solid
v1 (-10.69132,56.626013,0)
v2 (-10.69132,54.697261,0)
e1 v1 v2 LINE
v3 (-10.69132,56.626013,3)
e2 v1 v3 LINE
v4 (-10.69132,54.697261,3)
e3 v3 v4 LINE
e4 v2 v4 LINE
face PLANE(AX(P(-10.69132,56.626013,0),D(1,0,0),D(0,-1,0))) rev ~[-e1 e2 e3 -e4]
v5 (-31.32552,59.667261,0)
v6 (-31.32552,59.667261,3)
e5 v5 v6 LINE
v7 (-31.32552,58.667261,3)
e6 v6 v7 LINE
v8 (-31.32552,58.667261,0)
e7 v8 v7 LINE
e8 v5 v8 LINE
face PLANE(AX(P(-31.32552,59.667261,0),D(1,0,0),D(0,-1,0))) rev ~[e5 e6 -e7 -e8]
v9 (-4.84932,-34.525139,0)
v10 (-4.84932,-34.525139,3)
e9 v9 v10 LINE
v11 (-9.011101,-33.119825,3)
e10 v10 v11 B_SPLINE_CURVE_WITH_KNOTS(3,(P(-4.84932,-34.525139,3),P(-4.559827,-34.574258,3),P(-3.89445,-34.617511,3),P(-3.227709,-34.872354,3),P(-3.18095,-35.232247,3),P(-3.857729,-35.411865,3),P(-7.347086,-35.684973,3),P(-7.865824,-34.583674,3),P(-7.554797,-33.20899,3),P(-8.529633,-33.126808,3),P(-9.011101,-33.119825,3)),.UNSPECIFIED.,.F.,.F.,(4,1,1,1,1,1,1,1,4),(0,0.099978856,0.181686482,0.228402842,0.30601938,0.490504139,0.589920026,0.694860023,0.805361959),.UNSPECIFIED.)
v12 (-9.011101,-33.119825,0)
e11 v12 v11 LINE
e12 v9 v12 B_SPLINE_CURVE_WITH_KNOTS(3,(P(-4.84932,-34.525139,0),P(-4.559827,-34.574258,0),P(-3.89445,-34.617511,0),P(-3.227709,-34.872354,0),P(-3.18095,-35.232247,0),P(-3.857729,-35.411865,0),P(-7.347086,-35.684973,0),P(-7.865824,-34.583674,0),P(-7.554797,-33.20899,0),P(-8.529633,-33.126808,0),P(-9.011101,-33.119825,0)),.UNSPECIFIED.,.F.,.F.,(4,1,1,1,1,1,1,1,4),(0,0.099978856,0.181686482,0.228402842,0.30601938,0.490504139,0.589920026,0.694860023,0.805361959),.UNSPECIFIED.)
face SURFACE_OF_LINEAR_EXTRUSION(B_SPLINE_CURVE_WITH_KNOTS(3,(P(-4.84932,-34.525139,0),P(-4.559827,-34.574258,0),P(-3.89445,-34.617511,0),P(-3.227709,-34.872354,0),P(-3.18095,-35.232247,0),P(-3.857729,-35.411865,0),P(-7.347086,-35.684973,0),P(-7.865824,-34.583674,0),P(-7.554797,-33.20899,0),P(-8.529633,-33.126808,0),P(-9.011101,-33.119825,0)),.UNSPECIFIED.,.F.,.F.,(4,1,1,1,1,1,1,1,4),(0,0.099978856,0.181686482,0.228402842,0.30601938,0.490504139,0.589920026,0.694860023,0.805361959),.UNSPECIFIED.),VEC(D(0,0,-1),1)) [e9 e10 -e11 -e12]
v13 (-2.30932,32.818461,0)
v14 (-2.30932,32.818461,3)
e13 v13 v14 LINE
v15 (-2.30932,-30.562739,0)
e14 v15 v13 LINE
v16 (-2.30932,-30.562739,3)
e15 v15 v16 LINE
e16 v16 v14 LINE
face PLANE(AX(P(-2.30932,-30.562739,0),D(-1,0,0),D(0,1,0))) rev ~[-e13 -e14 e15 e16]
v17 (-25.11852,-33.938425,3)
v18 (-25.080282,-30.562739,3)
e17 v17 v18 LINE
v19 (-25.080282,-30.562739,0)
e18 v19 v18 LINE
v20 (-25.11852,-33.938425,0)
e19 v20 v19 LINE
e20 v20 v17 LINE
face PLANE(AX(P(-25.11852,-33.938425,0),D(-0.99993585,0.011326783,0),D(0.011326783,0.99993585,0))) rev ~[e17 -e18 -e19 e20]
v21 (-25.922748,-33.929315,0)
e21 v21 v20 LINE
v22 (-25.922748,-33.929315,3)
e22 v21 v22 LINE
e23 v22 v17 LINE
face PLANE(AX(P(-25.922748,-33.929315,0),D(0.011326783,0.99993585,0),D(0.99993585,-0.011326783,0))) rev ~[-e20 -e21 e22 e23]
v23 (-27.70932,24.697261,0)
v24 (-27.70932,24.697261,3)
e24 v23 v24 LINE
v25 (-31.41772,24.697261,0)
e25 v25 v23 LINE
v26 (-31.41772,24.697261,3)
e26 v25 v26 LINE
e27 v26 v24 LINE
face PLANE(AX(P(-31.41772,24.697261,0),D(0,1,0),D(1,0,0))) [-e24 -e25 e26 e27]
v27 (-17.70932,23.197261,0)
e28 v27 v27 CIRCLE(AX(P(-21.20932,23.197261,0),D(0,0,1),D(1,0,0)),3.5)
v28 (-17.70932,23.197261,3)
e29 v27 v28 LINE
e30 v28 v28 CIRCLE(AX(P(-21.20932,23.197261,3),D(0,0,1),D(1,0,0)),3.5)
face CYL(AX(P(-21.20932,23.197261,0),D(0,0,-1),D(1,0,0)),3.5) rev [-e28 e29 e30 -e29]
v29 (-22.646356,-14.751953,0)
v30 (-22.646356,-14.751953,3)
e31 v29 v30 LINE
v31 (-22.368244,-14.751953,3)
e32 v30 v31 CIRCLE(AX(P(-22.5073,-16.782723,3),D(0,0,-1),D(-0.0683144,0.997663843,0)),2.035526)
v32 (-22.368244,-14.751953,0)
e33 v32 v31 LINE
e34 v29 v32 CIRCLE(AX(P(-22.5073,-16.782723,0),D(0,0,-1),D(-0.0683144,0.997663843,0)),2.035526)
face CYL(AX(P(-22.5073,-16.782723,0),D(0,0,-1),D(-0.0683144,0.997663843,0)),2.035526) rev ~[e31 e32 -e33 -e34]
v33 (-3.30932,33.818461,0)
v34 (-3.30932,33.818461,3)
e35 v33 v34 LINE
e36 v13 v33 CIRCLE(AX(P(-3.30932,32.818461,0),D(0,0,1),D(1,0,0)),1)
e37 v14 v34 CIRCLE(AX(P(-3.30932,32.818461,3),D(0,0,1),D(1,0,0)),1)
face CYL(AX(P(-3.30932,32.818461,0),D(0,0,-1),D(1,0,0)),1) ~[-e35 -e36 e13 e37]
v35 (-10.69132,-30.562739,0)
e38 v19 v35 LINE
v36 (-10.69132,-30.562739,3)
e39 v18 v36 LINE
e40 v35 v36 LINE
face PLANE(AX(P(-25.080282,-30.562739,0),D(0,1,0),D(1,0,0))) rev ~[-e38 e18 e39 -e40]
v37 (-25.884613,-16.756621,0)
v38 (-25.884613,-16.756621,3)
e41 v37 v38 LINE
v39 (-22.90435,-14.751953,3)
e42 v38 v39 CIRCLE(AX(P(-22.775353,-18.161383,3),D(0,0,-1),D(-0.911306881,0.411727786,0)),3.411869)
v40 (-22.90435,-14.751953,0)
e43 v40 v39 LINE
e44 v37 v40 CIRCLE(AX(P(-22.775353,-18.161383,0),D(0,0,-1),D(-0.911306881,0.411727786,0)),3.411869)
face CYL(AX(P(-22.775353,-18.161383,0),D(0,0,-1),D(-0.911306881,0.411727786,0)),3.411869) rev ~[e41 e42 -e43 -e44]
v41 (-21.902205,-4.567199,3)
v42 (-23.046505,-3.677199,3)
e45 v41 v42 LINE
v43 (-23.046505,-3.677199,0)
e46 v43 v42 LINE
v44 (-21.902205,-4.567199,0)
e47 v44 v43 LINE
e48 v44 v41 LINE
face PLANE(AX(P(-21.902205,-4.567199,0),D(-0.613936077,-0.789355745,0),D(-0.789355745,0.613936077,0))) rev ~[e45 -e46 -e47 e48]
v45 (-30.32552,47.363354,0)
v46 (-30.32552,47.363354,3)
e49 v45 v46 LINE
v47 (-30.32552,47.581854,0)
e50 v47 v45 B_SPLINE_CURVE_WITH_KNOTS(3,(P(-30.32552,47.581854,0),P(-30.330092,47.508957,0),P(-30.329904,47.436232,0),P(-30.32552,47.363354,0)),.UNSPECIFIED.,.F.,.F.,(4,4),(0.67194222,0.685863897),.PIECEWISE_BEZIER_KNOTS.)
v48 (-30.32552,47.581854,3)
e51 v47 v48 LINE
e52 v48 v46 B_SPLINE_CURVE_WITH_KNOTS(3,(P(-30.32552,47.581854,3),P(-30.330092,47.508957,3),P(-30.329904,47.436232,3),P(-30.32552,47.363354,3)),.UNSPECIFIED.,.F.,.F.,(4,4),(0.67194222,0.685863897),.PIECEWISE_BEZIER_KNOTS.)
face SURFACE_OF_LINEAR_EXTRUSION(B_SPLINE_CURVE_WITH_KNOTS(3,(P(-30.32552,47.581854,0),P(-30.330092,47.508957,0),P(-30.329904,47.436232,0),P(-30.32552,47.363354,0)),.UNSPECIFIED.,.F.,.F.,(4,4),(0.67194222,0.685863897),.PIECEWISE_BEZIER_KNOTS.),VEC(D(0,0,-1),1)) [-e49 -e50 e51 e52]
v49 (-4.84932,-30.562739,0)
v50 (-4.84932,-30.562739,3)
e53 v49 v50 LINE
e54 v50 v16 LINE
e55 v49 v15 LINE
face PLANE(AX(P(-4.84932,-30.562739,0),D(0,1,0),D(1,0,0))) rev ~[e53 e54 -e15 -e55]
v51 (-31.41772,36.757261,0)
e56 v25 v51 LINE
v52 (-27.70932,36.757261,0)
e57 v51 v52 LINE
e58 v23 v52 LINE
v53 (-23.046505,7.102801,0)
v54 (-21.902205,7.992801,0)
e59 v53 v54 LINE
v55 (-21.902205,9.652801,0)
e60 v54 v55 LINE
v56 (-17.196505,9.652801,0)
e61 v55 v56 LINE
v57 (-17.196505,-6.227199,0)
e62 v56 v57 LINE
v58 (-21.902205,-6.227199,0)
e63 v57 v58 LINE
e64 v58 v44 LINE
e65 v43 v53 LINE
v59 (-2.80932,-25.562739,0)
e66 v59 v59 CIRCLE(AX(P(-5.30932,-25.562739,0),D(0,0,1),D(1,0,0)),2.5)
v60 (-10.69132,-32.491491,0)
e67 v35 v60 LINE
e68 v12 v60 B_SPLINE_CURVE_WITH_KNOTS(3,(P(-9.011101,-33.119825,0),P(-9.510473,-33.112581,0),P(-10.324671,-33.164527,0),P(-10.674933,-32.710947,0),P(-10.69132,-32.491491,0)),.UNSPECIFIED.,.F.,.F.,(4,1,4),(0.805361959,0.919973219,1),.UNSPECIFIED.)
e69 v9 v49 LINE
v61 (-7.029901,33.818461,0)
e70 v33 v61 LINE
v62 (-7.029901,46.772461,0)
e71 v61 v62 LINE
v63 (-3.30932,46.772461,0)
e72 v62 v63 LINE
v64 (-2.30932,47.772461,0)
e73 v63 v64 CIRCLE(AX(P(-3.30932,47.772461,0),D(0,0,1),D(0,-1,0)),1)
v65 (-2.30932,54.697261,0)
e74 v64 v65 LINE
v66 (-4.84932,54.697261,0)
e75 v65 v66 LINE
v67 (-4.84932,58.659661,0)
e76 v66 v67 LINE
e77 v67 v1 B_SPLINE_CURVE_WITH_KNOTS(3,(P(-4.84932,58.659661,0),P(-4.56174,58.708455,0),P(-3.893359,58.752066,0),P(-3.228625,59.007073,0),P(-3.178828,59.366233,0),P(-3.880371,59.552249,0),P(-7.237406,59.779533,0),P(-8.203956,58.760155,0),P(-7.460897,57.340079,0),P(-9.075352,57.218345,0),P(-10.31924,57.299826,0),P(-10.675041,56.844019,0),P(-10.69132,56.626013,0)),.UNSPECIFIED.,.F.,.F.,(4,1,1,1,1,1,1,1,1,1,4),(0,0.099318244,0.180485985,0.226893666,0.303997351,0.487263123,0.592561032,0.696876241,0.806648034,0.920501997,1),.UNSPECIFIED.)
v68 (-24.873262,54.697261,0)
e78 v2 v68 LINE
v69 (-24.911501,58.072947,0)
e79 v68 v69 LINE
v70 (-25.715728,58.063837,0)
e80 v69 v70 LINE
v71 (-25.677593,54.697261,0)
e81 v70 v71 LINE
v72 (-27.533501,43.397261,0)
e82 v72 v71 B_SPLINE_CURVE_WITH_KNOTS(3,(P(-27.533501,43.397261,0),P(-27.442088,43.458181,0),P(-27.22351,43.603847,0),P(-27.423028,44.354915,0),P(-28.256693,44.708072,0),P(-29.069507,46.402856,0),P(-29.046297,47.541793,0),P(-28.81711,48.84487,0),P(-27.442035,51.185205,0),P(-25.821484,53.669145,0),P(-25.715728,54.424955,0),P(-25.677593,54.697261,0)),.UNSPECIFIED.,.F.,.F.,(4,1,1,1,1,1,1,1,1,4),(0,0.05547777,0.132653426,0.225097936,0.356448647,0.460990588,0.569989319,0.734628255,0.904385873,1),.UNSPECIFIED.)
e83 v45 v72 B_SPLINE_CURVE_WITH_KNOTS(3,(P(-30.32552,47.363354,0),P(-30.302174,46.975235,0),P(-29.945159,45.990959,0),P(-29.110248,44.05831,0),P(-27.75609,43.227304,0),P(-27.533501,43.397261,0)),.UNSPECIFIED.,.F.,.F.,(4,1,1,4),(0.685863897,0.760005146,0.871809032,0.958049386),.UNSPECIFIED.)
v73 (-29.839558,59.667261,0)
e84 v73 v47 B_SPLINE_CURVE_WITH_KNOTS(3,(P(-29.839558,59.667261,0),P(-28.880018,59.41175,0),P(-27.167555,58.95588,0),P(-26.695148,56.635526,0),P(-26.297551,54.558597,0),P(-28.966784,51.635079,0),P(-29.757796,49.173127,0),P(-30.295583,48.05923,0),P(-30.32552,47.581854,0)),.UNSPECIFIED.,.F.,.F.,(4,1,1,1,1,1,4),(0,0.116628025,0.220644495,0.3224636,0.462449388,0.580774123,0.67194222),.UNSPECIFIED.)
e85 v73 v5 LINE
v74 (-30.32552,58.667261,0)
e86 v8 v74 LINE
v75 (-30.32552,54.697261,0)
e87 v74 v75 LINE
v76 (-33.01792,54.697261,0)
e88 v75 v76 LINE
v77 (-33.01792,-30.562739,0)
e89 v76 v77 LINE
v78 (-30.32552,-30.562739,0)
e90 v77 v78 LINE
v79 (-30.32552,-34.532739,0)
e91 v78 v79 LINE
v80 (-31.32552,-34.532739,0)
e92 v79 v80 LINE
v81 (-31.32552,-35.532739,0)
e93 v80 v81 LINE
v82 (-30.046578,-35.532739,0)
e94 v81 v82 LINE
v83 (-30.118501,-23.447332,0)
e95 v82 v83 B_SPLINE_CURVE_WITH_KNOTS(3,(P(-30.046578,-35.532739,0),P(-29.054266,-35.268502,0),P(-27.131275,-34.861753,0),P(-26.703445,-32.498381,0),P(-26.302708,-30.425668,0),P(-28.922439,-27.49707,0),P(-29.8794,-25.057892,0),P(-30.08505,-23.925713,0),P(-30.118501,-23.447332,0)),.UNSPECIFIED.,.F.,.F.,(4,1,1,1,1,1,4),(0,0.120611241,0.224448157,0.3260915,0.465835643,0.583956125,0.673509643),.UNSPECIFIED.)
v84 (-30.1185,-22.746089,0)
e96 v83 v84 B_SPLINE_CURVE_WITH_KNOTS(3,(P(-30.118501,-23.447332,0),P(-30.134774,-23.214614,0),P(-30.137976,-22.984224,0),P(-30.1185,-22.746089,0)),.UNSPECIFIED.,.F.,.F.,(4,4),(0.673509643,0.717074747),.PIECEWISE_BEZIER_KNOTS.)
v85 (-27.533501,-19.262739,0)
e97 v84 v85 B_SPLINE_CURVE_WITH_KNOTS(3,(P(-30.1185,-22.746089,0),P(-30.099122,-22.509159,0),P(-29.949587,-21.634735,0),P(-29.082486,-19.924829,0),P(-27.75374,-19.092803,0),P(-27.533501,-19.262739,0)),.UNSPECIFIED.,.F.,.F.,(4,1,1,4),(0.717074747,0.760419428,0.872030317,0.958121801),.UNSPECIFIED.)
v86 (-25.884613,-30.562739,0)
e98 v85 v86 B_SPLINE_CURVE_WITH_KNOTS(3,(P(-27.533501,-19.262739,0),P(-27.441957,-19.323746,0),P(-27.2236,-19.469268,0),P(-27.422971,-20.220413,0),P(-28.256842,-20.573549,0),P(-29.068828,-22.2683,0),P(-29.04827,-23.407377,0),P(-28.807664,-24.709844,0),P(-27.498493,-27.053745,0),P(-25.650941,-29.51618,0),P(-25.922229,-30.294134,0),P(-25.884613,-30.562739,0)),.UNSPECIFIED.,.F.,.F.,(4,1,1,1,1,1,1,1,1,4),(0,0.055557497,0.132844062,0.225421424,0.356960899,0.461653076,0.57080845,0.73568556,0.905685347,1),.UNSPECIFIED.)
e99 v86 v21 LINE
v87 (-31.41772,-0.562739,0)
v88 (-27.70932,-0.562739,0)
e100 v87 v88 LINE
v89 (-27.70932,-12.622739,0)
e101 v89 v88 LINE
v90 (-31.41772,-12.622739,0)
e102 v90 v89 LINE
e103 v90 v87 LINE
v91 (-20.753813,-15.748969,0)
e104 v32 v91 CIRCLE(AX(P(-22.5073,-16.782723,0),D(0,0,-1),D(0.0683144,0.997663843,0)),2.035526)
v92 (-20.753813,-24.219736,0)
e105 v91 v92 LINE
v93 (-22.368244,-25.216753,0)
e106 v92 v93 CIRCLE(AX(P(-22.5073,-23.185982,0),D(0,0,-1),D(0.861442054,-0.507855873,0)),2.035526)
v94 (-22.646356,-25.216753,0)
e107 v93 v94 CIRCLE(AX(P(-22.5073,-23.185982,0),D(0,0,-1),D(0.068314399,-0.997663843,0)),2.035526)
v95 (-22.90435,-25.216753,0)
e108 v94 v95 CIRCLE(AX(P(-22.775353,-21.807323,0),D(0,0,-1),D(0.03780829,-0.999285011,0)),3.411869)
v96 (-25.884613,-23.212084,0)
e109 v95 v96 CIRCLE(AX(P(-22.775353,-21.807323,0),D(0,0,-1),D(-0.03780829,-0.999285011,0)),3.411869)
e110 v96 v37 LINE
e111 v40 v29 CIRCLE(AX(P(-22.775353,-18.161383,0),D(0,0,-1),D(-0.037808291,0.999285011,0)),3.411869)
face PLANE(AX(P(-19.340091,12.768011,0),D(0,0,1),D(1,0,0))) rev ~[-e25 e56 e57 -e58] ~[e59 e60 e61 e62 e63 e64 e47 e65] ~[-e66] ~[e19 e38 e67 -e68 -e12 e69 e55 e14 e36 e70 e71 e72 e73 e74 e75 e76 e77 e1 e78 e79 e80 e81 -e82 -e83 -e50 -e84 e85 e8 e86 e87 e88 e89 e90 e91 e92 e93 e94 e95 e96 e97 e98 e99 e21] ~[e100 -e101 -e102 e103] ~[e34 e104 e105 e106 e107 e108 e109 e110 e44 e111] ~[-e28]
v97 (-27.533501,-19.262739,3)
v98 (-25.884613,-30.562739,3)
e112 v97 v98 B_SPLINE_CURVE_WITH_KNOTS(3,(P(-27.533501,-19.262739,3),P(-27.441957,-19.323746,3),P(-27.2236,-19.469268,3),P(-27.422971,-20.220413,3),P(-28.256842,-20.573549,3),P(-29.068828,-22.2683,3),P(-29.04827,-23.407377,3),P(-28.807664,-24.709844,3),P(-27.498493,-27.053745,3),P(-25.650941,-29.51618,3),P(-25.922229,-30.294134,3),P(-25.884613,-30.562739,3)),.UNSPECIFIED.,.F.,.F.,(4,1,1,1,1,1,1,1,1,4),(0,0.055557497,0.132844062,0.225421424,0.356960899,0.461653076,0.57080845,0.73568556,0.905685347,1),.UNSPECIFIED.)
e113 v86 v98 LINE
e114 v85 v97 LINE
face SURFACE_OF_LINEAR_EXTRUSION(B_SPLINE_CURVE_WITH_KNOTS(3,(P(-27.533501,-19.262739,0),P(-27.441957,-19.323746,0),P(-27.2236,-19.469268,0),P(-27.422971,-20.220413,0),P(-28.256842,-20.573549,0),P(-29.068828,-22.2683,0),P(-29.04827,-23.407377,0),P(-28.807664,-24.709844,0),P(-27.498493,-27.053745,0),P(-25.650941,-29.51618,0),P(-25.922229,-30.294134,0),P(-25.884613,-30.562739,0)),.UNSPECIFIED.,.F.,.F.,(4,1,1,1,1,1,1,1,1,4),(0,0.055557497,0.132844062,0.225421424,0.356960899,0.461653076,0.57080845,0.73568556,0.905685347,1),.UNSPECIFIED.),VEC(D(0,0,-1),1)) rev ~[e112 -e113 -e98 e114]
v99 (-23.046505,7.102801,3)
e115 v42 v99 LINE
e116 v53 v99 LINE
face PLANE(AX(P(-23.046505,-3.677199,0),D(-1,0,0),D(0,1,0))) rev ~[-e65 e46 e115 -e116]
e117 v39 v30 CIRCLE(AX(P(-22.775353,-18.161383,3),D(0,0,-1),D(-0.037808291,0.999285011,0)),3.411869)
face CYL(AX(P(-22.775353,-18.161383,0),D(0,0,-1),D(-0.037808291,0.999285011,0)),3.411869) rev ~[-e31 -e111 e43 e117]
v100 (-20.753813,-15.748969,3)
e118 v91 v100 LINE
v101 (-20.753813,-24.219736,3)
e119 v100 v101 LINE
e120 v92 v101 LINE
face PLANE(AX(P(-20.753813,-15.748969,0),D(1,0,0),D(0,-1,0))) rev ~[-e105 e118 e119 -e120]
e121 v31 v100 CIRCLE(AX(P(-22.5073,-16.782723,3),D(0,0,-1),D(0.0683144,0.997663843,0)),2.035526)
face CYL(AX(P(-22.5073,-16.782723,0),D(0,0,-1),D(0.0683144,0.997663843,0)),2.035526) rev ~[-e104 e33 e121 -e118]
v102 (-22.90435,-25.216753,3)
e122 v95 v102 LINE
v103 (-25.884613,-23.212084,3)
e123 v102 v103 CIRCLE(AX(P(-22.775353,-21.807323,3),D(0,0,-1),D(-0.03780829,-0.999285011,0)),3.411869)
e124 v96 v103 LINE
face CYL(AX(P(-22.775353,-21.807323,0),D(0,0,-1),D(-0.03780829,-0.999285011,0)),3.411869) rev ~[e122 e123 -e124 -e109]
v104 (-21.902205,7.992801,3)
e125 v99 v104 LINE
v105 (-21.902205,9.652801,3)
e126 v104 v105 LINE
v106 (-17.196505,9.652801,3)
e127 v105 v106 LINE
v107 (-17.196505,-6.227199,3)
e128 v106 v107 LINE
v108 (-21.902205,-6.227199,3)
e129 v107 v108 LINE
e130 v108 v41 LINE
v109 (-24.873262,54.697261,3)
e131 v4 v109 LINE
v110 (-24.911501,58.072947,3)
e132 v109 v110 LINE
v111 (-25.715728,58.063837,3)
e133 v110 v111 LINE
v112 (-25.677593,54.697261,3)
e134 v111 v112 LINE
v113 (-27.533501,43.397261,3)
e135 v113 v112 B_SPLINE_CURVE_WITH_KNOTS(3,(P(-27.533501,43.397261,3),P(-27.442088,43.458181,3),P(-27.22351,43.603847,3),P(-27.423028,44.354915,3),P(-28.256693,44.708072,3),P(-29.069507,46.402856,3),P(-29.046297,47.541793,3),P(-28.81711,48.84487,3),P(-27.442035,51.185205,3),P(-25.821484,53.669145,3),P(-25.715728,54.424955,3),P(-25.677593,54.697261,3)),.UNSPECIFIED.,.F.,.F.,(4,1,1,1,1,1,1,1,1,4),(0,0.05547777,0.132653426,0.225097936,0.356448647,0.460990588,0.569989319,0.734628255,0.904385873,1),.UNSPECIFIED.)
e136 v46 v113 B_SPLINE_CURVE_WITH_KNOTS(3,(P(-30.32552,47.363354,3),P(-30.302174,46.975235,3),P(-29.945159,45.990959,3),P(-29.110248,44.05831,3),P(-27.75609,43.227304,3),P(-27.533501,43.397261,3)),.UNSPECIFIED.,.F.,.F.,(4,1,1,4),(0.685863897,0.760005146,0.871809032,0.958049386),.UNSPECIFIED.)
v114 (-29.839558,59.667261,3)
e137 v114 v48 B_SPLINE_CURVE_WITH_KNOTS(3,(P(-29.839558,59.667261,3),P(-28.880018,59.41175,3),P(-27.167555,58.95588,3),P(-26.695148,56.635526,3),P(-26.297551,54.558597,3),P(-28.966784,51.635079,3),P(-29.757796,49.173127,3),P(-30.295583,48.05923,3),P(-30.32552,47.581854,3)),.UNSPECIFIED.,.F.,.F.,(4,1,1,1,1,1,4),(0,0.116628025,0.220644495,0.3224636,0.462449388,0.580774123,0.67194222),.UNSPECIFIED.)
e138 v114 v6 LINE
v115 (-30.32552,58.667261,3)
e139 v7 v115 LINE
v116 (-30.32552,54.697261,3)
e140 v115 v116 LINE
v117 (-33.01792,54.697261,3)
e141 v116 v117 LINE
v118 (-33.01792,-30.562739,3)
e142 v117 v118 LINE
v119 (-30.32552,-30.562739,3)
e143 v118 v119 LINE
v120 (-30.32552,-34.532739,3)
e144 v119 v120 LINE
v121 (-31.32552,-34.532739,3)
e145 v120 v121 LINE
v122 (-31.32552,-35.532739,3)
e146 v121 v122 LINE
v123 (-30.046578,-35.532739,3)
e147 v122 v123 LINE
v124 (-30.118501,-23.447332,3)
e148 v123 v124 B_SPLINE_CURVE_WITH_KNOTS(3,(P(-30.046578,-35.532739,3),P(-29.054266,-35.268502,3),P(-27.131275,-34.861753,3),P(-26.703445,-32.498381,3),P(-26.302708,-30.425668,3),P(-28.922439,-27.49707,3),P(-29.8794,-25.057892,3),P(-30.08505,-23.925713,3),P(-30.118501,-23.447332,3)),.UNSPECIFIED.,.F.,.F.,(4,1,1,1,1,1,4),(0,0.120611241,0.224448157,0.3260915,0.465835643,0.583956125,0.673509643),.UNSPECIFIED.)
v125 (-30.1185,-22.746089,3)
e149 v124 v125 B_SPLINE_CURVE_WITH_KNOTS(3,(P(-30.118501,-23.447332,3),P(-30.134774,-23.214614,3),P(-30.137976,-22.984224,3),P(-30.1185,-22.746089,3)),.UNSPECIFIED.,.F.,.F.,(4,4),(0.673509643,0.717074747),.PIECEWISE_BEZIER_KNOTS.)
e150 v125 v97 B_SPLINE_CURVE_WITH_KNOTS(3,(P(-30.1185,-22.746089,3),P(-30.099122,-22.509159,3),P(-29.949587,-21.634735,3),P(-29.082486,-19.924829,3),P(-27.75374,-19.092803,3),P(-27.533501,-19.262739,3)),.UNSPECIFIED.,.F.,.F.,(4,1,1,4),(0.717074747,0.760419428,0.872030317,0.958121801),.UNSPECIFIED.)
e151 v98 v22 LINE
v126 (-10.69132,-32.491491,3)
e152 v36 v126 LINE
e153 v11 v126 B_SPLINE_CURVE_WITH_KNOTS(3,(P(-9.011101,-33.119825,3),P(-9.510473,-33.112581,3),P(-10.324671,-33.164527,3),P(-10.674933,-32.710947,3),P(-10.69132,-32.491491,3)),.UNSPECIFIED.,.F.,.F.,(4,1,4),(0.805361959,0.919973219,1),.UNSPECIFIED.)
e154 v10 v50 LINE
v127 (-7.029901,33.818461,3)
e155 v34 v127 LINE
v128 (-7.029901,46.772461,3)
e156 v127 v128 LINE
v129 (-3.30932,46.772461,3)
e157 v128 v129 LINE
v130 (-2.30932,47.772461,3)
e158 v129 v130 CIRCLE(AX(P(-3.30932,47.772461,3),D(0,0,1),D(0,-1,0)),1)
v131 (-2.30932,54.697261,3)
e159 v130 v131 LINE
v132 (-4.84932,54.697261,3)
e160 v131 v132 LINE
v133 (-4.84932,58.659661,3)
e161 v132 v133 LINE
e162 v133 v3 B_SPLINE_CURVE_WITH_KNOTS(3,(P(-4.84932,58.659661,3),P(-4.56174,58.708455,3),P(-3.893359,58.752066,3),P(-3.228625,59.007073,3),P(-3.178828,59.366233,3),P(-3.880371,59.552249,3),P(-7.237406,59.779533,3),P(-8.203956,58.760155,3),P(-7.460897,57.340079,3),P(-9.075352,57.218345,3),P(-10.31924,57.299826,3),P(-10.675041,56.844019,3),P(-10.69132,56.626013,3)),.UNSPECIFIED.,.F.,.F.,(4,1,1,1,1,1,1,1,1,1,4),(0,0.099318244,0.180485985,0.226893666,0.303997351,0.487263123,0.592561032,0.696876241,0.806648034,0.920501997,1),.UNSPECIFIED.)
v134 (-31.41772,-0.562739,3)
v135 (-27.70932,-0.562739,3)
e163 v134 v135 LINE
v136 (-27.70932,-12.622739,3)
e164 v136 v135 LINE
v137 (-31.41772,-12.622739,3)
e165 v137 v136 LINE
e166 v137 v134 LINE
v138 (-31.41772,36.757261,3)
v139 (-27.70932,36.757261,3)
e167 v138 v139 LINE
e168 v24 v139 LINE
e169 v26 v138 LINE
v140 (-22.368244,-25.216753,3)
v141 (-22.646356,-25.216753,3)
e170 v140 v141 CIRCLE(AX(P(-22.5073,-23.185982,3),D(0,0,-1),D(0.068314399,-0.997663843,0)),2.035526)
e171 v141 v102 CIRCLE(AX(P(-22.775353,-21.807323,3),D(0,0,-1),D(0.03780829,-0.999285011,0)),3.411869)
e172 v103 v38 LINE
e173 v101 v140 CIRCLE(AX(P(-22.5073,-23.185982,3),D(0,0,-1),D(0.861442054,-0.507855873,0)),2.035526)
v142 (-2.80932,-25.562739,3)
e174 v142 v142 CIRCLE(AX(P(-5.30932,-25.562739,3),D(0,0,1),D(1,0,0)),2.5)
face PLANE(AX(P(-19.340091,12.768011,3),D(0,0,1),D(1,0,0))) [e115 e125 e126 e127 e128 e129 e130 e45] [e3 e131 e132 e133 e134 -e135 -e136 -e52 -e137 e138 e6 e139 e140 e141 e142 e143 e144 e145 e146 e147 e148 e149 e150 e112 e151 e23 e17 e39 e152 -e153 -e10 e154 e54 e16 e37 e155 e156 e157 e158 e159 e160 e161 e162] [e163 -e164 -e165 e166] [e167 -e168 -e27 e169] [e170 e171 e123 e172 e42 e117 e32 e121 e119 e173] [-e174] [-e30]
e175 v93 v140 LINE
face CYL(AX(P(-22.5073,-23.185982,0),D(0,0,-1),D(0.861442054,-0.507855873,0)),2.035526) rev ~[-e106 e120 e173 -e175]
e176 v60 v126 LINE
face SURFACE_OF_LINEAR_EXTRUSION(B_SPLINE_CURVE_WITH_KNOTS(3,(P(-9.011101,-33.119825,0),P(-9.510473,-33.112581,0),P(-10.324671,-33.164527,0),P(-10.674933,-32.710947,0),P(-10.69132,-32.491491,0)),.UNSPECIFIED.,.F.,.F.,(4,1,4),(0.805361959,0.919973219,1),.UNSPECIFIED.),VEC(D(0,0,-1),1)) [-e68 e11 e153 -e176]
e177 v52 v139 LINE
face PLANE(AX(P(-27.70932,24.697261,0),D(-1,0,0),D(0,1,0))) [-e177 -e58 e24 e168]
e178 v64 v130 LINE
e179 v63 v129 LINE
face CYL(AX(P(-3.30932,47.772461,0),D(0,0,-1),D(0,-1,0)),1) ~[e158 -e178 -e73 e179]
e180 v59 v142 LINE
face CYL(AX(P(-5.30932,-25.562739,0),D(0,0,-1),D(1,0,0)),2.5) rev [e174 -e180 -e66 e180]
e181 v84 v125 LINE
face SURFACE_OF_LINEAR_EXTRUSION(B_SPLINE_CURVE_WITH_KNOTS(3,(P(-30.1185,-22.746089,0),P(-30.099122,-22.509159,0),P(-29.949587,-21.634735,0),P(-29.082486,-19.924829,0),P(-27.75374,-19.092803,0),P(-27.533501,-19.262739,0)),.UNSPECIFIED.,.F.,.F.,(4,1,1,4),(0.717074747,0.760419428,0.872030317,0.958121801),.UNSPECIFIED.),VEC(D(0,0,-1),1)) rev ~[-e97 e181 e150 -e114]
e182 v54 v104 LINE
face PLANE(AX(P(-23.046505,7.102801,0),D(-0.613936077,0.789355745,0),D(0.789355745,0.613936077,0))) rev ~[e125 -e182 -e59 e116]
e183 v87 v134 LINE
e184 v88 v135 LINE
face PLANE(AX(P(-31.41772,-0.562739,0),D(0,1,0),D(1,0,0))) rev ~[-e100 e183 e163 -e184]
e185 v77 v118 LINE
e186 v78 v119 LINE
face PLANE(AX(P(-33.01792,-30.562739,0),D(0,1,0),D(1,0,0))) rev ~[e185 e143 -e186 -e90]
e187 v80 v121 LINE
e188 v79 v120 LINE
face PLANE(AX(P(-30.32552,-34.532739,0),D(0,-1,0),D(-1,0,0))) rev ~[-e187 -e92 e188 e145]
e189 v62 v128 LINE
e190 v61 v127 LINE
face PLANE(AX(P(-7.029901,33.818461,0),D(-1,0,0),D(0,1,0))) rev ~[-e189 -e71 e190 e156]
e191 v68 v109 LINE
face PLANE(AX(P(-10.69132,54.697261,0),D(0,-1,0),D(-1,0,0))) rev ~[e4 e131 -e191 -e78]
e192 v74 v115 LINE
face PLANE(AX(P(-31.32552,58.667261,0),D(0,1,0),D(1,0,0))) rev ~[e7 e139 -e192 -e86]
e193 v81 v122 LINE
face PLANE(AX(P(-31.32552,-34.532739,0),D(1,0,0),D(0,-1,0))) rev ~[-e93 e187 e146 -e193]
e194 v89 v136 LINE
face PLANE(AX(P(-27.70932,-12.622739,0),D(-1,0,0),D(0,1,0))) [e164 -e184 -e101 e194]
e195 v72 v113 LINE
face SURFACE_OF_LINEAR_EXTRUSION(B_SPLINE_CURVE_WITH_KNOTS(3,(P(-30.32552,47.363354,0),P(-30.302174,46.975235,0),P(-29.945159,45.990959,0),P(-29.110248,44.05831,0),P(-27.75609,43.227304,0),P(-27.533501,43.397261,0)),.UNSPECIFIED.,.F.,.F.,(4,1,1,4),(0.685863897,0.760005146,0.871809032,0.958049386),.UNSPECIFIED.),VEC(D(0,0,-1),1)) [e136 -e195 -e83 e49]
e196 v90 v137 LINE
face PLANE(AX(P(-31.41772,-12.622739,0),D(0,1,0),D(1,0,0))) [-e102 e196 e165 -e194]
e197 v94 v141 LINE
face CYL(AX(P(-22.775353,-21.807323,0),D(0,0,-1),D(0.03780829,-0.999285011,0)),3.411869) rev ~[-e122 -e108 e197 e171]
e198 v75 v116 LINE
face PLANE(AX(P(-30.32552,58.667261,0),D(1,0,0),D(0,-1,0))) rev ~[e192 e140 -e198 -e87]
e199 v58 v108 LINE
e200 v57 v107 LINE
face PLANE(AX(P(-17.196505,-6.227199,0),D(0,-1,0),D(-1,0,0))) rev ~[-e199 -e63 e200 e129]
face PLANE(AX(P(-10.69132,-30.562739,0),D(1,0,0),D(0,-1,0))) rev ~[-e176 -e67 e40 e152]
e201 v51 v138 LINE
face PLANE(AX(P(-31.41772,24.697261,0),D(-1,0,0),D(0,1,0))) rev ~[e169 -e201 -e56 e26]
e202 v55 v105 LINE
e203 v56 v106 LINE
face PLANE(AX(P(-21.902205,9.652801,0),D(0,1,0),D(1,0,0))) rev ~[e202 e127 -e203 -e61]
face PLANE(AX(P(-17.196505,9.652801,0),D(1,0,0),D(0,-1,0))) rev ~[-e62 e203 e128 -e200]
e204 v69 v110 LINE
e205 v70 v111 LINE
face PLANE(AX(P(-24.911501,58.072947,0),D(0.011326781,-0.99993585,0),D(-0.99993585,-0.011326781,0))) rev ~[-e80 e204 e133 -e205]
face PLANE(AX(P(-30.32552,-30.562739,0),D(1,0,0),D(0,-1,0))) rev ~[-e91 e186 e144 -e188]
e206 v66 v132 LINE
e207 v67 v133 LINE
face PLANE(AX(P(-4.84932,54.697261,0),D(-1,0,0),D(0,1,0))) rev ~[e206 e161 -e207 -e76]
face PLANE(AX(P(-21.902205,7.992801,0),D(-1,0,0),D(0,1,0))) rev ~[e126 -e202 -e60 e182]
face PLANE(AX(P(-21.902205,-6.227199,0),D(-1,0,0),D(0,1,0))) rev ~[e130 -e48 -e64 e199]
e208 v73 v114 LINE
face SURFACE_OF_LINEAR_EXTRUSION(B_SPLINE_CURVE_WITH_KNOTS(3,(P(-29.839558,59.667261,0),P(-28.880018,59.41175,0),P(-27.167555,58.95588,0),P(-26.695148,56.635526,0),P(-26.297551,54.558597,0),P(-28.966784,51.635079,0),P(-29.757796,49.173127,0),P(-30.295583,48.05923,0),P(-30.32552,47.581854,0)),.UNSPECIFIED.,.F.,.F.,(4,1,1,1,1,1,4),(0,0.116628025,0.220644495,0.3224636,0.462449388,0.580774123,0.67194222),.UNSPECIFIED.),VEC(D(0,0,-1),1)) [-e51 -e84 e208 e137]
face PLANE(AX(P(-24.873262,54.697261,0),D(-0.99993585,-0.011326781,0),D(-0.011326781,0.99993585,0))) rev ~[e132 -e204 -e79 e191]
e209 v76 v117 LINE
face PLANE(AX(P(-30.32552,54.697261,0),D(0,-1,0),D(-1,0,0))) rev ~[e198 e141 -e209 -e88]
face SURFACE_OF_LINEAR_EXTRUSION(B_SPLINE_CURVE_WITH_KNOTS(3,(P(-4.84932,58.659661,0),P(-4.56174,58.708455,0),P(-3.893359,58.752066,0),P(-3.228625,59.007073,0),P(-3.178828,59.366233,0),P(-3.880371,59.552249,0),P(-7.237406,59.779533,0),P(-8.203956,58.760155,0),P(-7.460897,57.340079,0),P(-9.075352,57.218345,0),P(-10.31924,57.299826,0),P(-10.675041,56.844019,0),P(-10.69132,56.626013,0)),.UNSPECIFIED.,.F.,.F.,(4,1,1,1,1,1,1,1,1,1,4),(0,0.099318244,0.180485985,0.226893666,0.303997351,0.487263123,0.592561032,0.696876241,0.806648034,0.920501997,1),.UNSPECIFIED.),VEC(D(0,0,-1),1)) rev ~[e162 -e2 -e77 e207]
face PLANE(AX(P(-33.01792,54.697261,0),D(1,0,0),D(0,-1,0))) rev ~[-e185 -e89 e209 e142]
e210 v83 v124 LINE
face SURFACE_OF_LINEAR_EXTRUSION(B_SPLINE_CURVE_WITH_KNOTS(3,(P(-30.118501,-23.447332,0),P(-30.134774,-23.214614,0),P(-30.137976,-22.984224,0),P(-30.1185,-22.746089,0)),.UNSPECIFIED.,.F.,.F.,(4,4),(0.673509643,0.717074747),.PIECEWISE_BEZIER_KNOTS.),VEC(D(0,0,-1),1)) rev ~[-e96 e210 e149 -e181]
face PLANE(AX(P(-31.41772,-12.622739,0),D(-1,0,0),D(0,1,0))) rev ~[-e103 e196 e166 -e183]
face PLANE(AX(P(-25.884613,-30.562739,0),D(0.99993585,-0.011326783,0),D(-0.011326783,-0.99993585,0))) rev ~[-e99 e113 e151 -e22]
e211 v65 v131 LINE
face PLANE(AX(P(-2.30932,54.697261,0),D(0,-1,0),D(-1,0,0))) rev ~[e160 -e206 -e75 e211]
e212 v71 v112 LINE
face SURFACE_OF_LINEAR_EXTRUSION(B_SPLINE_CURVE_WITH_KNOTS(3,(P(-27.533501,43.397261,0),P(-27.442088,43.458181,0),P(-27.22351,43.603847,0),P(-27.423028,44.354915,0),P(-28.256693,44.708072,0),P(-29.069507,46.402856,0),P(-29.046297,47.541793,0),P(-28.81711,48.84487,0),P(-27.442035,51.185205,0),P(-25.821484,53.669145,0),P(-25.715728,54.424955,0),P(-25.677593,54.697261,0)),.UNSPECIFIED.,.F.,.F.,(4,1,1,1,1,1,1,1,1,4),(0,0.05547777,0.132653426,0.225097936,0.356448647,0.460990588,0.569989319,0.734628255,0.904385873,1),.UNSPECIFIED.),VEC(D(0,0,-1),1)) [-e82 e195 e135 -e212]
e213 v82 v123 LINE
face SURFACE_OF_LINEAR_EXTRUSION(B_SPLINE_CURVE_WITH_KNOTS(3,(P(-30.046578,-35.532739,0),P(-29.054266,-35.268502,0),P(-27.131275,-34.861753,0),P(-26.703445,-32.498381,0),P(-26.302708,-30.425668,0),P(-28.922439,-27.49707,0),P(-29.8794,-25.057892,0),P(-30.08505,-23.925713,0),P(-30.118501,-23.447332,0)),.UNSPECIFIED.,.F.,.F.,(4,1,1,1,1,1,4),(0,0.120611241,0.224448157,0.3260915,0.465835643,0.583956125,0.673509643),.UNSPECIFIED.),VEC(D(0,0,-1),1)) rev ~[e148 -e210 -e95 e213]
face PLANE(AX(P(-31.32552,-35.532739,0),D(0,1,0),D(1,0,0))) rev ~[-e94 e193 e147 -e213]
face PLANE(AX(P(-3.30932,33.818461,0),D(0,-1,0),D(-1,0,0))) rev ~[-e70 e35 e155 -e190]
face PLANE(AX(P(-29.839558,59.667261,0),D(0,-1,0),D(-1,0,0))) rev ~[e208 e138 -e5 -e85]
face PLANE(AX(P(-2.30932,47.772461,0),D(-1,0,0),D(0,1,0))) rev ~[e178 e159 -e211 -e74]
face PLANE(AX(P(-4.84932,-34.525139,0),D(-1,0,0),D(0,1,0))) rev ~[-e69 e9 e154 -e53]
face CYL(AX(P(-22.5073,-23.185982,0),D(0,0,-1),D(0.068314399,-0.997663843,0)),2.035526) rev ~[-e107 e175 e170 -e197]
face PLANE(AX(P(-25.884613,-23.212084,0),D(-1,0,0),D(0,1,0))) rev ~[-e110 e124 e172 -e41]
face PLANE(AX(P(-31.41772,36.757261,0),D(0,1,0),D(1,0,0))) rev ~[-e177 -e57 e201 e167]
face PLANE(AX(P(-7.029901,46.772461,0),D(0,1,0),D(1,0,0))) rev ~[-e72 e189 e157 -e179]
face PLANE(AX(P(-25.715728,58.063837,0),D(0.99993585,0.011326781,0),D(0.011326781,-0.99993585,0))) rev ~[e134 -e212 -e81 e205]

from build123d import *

# Parameters (mm, degrees)
F0_W     = 3.7084
F0_H     = 12.06
F0_R     = 2.5
F0_R_2   = 3.5
F1_DEPTH = 3


with BuildPart() as f1:
    # F0 (on Top) → F1 (new body)
    with BuildSketch(Plane.XY):
        with BuildLine():
            Line((-30.3255202817, 54.6972608811), (-33.0179202817, 54.6972608811))
            Line((-33.0179202817, 54.6972608811), (-33.0179202817, -30.5627391189))
            Line((-33.0179202817, -30.5627391189), (-30.3255202817, -30.5627391189))
            Line((-30.3255202817, -30.5627391189), (-30.3255202817, -34.5327391189))
            Line((-30.3255202817, -34.5327391189), (-31.3255202817, -34.5327391189))
            Line((-31.3255202817, -34.5327391189), (-31.3255202817, -35.5327391189))
            Line((-31.3255202817, -35.5327391189), (-30.0465778309, -35.5327391189))
            add(Edge.make_bspline(
                [(-30.0465778309, -35.5327391189), (-29.0542660125, -35.2685021322), (-27.1312752249, -34.861753353), (-26.7034450117, -32.4983814243), (-26.3027082761, -30.4256681512), (-28.9224390093, -27.4970702453), (-29.8794002046, -25.057892097), (-30.0850495272, -23.9257134), (-30.1185005971, -23.4473318782)],
                knots=[0, 0, 0, 0, 0.1206112414, 0.224448157, 0.3260915004, 0.4658356432, 0.5839561245, 0.6735096428, 0.6735096428, 0.6735096428, 0.6735096428], degree=3))
            add(Edge.make_bspline(
                [(-30.1185005971, -23.4473318782), (-30.1347735406, -23.2146135975), (-30.1379762837, -22.9842236069), (-30.1184997649, -22.7460887202)],
                knots=[0.6735096428, 0.6735096428, 0.6735096428, 0.6735096428, 0.717074747, 0.717074747, 0.717074747, 0.717074747], degree=3))
            add(Edge.make_bspline(
                [(-30.1184997649, -22.7460887202), (-30.0991217901, -22.5091587059), (-29.949587152, -21.6347347705), (-29.0824860737, -19.9248292282), (-27.7537398554, -19.0928034317), (-27.5335005971, -19.2627391189)],
                knots=[0.717074747, 0.717074747, 0.717074747, 0.717074747, 0.7604194282, 0.8720303172, 0.9581218014, 0.9581218014, 0.9581218014, 0.9581218014], degree=3))
            add(Edge.make_bspline(
                [(-27.5335005971, -19.2627391189), (-27.4419565035, -19.3237464606), (-27.2236001371, -19.4692682262), (-27.4229707249, -20.2204130794), (-28.2568417379, -20.5735485862), (-29.0688276696, -22.2682997811), (-29.048270231, -23.4073773795), (-28.8076640714, -24.7098437986), (-27.4984927375, -27.0537445911), (-25.6509412483, -29.5161804605), (-25.9222293614, -30.2941341727), (-25.8846127289, -30.5627391189)],
                knots=[0, 0, 0, 0, 0.0555574968, 0.1328440618, 0.225421424, 0.3569608994, 0.4616530765, 0.5708084503, 0.7356855595, 0.905685347, 1, 1, 1, 1], degree=3))
            Line((-25.8846127289, -30.5627391189), (-25.9227476544, -33.9293153014))
            Line((-25.9227476544, -33.9293153014), (-25.1185202817, -33.9384251951))
            Line((-25.1185202817, -33.9384251951), (-25.0802821638, -30.5627391189))
            Line((-25.0802821638, -30.5627391189), (-10.6913202817, -30.5627391189))
            Line((-10.6913202817, -30.5627391189), (-10.6913202817, -32.491491082))
            add(Edge.make_bspline(
                [(-9.0111005971, -33.1198246207), (-9.5104731019, -33.1125810807), (-10.3246713293, -33.1645274657), (-10.6749330928, -32.7109473036), (-10.6913202817, -32.491491082)],
                knots=[0.8053619594, 0.8053619594, 0.8053619594, 0.8053619594, 0.9199732187, 1, 1, 1, 1], degree=3))
            add(Edge.make_bspline(
                [(-4.8493202817, -34.5251391189), (-4.5598271377, -34.5742578802), (-3.8944496954, -34.6175113453), (-3.2277093509, -34.8723543508), (-3.1809502223, -35.2322471625), (-3.8577286947, -35.4118651006), (-7.3470859543, -35.6849731368), (-7.8658240881, -34.58367362), (-7.5547970986, -33.2089896094), (-8.5296328153, -33.1268084476), (-9.0111005971, -33.1198246207)],
                knots=[0, 0, 0, 0, 0.0999788563, 0.1816864817, 0.2284028423, 0.3060193801, 0.4905041385, 0.5899200265, 0.6948600229, 0.8053619594, 0.8053619594, 0.8053619594, 0.8053619594], degree=3))
            Line((-4.8493202817, -34.5251391189), (-4.8493202817, -30.5627391189))
            Line((-4.8493202817, -30.5627391189), (-2.3093202817, -30.5627391189))
            Line((-2.3093202817, -30.5627391189), (-2.3093202817, 32.8184608811))
            ThreePointArc((-2.3093202817, 32.8184608811), (-2.6022135006, 33.5255676623), (-3.3093202817, 33.8184608811))
            Line((-3.3093202817, 33.8184608811), (-7.0299005971, 33.8184608811))
            Line((-7.0299005971, 33.8184608811), (-7.0299005971, 46.7724608811))
            Line((-7.0299005971, 46.7724608811), (-3.3093202817, 46.7724608811))
            ThreePointArc((-3.3093202817, 46.7724608811), (-2.6022135006, 47.0653540999), (-2.3093202817, 47.7724608811))
            Line((-2.3093202817, 47.7724608811), (-2.3093202817, 54.6972608811))
            Line((-2.3093202817, 54.6972608811), (-4.8493202817, 54.6972608811))
            Line((-4.8493202817, 54.6972608811), (-4.8493202817, 58.6596608811))
            add(Edge.make_bspline(
                [(-4.8493202817, 58.6596608811), (-4.5617399693, 58.7084550892), (-3.8933589127, 58.7520656237), (-3.2286250578, 59.0070734433), (-3.1788282676, 59.366232748), (-3.8803713676, 59.5522491057), (-7.2374062882, 59.7795334193), (-8.2039564746, 58.7601549354), (-7.4608966899, 57.3400786879), (-9.0753517903, 57.2183445779), (-10.3192401725, 57.2998260761), (-10.6750413714, 56.8440190045), (-10.6913202817, 56.6260128441)],
                knots=[0, 0, 0, 0, 0.0993182441, 0.1804859847, 0.2268936661, 0.3039973511, 0.4872631229, 0.5925610324, 0.6968762413, 0.806648034, 0.9205019972, 1, 1, 1, 1], degree=3))
            Line((-10.6913202817, 56.6260128441), (-10.6913202817, 54.6972608811))
            Line((-10.6913202817, 54.6972608811), (-24.8732624792, 54.6972608811))
            Line((-24.8732624792, 54.6972608811), (-24.9115005888, 58.0729470142))
            Line((-24.9115005888, 58.0729470142), (-25.7157279615, 58.0638371227))
            Line((-25.7157279615, 58.0638371227), (-25.6775930443, 54.6972608811))
            add(Edge.make_bspline(
                [(-27.5335005971, 43.3972608811), (-27.4420878726, 43.458180675), (-27.2235099986, 43.6038466512), (-27.4230277063, 44.3549153311), (-28.2566925656, 44.7080719301), (-29.0695070788, 46.4028559785), (-29.0462971883, 47.5417930568), (-28.817109508, 48.8448704557), (-27.4420350281, 51.1852051842), (-25.8214841356, 53.6691447705), (-25.7157279615, 54.4249550762), (-25.6775930443, 54.6972608811)],
                knots=[0, 0, 0, 0, 0.0554777698, 0.1326534257, 0.2250979361, 0.3564486475, 0.4609905876, 0.5699893194, 0.7346282553, 0.9043858727, 1, 1, 1, 1], degree=3))
            add(Edge.make_bspline(
                [(-30.3255202817, 47.363353879), (-30.3021743332, 46.9752354762), (-29.9451588522, 45.9909590292), (-29.1102476588, 44.058309756), (-27.7560898154, 43.227303649), (-27.5335005971, 43.3972608811)],
                knots=[0.6858638974, 0.6858638974, 0.6858638974, 0.6858638974, 0.760005146, 0.8718090323, 0.9580493857, 0.9580493857, 0.9580493857, 0.9580493857], degree=3))
            add(Edge.make_bspline(
                [(-30.3255202817, 47.5818536404), (-30.3300917762, 47.5089567217), (-30.3299040056, 47.4362317879), (-30.3255202817, 47.363353879)],
                knots=[0.6719422201, 0.6719422201, 0.6719422201, 0.6719422201, 0.6858638974, 0.6858638974, 0.6858638974, 0.6858638974], degree=3))
            add(Edge.make_bspline(
                [(-29.8395581462, 59.6672608811), (-28.8800176747, 59.4117503871), (-27.1675545938, 58.9558795646), (-26.6951478075, 56.6355261243), (-26.2975507344, 54.5585972446), (-28.966783586, 51.6350792711), (-29.7577958737, 49.1731274375), (-30.2955831957, 48.05922955), (-30.3255202817, 47.5818536404)],
                knots=[0, 0, 0, 0, 0.1166280249, 0.220644495, 0.3224635999, 0.462449388, 0.580774123, 0.6719422201, 0.6719422201, 0.6719422201, 0.6719422201], degree=3))
            Line((-29.8395581462, 59.6672608811), (-31.3255202817, 59.6672608811))
            Line((-31.3255202817, 59.6672608811), (-31.3255202817, 58.6672608811))
            Line((-31.3255202817, 58.6672608811), (-30.3255202817, 58.6672608811))
            Line((-30.3255202817, 58.6672608811), (-30.3255202817, 54.6972608811))
        make_face()
        with BuildLine():
            ThreePointArc((-22.6463557082, -25.2167526633), (-22.7753526566, -25.2191921124), (-22.904349605, -25.2167526633))
            ThreePointArc((-22.904349605, -25.2167526633), (-24.6796244618, -24.6383299025), (-25.8846127289, -23.2120841371))
            Line((-25.8846127289, -23.2120841371), (-25.8846127289, -16.7566211894))
            ThreePointArc((-25.8846127289, -16.7566211894), (-24.6796244618, -15.330375424), (-22.904349605, -14.7519526633))
            ThreePointArc((-22.904349605, -14.7519526633), (-22.7753526566, -14.7495132141), (-22.6463557082, -14.7519526633))
            ThreePointArc((-22.6463557082, -14.7519526633), (-22.507300004, -14.7471973552), (-22.3682442997, -14.7519526633))
            ThreePointArc((-22.3682442997, -14.7519526633), (-21.4377485722, -15.0508383898), (-20.7538127289, -15.7489692792))
            Line((-20.7538127289, -15.7489692792), (-20.7538127289, -24.2197360473))
            ThreePointArc((-20.7538127289, -24.2197360473), (-21.4377485722, -24.9178669367), (-22.3682442997, -25.2167526633))
            ThreePointArc((-22.3682442997, -25.2167526633), (-22.507300004, -25.2215079713), (-22.6463557082, -25.2167526633))
        make_face(mode=Mode.SUBTRACT)
        with Locations((-29.5635202817, -6.5927391189)):
            Rectangle(F0_W, F0_H, mode=Mode.SUBTRACT)
        Polygon((-17.1965047061, -6.2271989882), (-21.9022054225, -6.2271989882), (-21.9022054225, -4.5671989882), (-23.0465047061, -3.6771989882), (-23.0465047061, 7.1028010118), (-21.9022054225, 7.9928010118), (-21.9022054225, 9.6528010118), (-17.1965047061, 9.6528010118), align=None, mode=Mode.SUBTRACT)
        with Locations((-5.3093202817, -25.5627391189)):
            Circle(F0_R, mode=Mode.SUBTRACT)
        with Locations((-29.5635202817, 30.7272608811)):
            Rectangle(F0_W, F0_H, mode=Mode.SUBTRACT)
        with Locations((-21.2093202817, 23.1972608811)):
            Circle(F0_R_2, mode=Mode.SUBTRACT)
    extrude(amount=F1_DEPTH)


solid = f1.part
